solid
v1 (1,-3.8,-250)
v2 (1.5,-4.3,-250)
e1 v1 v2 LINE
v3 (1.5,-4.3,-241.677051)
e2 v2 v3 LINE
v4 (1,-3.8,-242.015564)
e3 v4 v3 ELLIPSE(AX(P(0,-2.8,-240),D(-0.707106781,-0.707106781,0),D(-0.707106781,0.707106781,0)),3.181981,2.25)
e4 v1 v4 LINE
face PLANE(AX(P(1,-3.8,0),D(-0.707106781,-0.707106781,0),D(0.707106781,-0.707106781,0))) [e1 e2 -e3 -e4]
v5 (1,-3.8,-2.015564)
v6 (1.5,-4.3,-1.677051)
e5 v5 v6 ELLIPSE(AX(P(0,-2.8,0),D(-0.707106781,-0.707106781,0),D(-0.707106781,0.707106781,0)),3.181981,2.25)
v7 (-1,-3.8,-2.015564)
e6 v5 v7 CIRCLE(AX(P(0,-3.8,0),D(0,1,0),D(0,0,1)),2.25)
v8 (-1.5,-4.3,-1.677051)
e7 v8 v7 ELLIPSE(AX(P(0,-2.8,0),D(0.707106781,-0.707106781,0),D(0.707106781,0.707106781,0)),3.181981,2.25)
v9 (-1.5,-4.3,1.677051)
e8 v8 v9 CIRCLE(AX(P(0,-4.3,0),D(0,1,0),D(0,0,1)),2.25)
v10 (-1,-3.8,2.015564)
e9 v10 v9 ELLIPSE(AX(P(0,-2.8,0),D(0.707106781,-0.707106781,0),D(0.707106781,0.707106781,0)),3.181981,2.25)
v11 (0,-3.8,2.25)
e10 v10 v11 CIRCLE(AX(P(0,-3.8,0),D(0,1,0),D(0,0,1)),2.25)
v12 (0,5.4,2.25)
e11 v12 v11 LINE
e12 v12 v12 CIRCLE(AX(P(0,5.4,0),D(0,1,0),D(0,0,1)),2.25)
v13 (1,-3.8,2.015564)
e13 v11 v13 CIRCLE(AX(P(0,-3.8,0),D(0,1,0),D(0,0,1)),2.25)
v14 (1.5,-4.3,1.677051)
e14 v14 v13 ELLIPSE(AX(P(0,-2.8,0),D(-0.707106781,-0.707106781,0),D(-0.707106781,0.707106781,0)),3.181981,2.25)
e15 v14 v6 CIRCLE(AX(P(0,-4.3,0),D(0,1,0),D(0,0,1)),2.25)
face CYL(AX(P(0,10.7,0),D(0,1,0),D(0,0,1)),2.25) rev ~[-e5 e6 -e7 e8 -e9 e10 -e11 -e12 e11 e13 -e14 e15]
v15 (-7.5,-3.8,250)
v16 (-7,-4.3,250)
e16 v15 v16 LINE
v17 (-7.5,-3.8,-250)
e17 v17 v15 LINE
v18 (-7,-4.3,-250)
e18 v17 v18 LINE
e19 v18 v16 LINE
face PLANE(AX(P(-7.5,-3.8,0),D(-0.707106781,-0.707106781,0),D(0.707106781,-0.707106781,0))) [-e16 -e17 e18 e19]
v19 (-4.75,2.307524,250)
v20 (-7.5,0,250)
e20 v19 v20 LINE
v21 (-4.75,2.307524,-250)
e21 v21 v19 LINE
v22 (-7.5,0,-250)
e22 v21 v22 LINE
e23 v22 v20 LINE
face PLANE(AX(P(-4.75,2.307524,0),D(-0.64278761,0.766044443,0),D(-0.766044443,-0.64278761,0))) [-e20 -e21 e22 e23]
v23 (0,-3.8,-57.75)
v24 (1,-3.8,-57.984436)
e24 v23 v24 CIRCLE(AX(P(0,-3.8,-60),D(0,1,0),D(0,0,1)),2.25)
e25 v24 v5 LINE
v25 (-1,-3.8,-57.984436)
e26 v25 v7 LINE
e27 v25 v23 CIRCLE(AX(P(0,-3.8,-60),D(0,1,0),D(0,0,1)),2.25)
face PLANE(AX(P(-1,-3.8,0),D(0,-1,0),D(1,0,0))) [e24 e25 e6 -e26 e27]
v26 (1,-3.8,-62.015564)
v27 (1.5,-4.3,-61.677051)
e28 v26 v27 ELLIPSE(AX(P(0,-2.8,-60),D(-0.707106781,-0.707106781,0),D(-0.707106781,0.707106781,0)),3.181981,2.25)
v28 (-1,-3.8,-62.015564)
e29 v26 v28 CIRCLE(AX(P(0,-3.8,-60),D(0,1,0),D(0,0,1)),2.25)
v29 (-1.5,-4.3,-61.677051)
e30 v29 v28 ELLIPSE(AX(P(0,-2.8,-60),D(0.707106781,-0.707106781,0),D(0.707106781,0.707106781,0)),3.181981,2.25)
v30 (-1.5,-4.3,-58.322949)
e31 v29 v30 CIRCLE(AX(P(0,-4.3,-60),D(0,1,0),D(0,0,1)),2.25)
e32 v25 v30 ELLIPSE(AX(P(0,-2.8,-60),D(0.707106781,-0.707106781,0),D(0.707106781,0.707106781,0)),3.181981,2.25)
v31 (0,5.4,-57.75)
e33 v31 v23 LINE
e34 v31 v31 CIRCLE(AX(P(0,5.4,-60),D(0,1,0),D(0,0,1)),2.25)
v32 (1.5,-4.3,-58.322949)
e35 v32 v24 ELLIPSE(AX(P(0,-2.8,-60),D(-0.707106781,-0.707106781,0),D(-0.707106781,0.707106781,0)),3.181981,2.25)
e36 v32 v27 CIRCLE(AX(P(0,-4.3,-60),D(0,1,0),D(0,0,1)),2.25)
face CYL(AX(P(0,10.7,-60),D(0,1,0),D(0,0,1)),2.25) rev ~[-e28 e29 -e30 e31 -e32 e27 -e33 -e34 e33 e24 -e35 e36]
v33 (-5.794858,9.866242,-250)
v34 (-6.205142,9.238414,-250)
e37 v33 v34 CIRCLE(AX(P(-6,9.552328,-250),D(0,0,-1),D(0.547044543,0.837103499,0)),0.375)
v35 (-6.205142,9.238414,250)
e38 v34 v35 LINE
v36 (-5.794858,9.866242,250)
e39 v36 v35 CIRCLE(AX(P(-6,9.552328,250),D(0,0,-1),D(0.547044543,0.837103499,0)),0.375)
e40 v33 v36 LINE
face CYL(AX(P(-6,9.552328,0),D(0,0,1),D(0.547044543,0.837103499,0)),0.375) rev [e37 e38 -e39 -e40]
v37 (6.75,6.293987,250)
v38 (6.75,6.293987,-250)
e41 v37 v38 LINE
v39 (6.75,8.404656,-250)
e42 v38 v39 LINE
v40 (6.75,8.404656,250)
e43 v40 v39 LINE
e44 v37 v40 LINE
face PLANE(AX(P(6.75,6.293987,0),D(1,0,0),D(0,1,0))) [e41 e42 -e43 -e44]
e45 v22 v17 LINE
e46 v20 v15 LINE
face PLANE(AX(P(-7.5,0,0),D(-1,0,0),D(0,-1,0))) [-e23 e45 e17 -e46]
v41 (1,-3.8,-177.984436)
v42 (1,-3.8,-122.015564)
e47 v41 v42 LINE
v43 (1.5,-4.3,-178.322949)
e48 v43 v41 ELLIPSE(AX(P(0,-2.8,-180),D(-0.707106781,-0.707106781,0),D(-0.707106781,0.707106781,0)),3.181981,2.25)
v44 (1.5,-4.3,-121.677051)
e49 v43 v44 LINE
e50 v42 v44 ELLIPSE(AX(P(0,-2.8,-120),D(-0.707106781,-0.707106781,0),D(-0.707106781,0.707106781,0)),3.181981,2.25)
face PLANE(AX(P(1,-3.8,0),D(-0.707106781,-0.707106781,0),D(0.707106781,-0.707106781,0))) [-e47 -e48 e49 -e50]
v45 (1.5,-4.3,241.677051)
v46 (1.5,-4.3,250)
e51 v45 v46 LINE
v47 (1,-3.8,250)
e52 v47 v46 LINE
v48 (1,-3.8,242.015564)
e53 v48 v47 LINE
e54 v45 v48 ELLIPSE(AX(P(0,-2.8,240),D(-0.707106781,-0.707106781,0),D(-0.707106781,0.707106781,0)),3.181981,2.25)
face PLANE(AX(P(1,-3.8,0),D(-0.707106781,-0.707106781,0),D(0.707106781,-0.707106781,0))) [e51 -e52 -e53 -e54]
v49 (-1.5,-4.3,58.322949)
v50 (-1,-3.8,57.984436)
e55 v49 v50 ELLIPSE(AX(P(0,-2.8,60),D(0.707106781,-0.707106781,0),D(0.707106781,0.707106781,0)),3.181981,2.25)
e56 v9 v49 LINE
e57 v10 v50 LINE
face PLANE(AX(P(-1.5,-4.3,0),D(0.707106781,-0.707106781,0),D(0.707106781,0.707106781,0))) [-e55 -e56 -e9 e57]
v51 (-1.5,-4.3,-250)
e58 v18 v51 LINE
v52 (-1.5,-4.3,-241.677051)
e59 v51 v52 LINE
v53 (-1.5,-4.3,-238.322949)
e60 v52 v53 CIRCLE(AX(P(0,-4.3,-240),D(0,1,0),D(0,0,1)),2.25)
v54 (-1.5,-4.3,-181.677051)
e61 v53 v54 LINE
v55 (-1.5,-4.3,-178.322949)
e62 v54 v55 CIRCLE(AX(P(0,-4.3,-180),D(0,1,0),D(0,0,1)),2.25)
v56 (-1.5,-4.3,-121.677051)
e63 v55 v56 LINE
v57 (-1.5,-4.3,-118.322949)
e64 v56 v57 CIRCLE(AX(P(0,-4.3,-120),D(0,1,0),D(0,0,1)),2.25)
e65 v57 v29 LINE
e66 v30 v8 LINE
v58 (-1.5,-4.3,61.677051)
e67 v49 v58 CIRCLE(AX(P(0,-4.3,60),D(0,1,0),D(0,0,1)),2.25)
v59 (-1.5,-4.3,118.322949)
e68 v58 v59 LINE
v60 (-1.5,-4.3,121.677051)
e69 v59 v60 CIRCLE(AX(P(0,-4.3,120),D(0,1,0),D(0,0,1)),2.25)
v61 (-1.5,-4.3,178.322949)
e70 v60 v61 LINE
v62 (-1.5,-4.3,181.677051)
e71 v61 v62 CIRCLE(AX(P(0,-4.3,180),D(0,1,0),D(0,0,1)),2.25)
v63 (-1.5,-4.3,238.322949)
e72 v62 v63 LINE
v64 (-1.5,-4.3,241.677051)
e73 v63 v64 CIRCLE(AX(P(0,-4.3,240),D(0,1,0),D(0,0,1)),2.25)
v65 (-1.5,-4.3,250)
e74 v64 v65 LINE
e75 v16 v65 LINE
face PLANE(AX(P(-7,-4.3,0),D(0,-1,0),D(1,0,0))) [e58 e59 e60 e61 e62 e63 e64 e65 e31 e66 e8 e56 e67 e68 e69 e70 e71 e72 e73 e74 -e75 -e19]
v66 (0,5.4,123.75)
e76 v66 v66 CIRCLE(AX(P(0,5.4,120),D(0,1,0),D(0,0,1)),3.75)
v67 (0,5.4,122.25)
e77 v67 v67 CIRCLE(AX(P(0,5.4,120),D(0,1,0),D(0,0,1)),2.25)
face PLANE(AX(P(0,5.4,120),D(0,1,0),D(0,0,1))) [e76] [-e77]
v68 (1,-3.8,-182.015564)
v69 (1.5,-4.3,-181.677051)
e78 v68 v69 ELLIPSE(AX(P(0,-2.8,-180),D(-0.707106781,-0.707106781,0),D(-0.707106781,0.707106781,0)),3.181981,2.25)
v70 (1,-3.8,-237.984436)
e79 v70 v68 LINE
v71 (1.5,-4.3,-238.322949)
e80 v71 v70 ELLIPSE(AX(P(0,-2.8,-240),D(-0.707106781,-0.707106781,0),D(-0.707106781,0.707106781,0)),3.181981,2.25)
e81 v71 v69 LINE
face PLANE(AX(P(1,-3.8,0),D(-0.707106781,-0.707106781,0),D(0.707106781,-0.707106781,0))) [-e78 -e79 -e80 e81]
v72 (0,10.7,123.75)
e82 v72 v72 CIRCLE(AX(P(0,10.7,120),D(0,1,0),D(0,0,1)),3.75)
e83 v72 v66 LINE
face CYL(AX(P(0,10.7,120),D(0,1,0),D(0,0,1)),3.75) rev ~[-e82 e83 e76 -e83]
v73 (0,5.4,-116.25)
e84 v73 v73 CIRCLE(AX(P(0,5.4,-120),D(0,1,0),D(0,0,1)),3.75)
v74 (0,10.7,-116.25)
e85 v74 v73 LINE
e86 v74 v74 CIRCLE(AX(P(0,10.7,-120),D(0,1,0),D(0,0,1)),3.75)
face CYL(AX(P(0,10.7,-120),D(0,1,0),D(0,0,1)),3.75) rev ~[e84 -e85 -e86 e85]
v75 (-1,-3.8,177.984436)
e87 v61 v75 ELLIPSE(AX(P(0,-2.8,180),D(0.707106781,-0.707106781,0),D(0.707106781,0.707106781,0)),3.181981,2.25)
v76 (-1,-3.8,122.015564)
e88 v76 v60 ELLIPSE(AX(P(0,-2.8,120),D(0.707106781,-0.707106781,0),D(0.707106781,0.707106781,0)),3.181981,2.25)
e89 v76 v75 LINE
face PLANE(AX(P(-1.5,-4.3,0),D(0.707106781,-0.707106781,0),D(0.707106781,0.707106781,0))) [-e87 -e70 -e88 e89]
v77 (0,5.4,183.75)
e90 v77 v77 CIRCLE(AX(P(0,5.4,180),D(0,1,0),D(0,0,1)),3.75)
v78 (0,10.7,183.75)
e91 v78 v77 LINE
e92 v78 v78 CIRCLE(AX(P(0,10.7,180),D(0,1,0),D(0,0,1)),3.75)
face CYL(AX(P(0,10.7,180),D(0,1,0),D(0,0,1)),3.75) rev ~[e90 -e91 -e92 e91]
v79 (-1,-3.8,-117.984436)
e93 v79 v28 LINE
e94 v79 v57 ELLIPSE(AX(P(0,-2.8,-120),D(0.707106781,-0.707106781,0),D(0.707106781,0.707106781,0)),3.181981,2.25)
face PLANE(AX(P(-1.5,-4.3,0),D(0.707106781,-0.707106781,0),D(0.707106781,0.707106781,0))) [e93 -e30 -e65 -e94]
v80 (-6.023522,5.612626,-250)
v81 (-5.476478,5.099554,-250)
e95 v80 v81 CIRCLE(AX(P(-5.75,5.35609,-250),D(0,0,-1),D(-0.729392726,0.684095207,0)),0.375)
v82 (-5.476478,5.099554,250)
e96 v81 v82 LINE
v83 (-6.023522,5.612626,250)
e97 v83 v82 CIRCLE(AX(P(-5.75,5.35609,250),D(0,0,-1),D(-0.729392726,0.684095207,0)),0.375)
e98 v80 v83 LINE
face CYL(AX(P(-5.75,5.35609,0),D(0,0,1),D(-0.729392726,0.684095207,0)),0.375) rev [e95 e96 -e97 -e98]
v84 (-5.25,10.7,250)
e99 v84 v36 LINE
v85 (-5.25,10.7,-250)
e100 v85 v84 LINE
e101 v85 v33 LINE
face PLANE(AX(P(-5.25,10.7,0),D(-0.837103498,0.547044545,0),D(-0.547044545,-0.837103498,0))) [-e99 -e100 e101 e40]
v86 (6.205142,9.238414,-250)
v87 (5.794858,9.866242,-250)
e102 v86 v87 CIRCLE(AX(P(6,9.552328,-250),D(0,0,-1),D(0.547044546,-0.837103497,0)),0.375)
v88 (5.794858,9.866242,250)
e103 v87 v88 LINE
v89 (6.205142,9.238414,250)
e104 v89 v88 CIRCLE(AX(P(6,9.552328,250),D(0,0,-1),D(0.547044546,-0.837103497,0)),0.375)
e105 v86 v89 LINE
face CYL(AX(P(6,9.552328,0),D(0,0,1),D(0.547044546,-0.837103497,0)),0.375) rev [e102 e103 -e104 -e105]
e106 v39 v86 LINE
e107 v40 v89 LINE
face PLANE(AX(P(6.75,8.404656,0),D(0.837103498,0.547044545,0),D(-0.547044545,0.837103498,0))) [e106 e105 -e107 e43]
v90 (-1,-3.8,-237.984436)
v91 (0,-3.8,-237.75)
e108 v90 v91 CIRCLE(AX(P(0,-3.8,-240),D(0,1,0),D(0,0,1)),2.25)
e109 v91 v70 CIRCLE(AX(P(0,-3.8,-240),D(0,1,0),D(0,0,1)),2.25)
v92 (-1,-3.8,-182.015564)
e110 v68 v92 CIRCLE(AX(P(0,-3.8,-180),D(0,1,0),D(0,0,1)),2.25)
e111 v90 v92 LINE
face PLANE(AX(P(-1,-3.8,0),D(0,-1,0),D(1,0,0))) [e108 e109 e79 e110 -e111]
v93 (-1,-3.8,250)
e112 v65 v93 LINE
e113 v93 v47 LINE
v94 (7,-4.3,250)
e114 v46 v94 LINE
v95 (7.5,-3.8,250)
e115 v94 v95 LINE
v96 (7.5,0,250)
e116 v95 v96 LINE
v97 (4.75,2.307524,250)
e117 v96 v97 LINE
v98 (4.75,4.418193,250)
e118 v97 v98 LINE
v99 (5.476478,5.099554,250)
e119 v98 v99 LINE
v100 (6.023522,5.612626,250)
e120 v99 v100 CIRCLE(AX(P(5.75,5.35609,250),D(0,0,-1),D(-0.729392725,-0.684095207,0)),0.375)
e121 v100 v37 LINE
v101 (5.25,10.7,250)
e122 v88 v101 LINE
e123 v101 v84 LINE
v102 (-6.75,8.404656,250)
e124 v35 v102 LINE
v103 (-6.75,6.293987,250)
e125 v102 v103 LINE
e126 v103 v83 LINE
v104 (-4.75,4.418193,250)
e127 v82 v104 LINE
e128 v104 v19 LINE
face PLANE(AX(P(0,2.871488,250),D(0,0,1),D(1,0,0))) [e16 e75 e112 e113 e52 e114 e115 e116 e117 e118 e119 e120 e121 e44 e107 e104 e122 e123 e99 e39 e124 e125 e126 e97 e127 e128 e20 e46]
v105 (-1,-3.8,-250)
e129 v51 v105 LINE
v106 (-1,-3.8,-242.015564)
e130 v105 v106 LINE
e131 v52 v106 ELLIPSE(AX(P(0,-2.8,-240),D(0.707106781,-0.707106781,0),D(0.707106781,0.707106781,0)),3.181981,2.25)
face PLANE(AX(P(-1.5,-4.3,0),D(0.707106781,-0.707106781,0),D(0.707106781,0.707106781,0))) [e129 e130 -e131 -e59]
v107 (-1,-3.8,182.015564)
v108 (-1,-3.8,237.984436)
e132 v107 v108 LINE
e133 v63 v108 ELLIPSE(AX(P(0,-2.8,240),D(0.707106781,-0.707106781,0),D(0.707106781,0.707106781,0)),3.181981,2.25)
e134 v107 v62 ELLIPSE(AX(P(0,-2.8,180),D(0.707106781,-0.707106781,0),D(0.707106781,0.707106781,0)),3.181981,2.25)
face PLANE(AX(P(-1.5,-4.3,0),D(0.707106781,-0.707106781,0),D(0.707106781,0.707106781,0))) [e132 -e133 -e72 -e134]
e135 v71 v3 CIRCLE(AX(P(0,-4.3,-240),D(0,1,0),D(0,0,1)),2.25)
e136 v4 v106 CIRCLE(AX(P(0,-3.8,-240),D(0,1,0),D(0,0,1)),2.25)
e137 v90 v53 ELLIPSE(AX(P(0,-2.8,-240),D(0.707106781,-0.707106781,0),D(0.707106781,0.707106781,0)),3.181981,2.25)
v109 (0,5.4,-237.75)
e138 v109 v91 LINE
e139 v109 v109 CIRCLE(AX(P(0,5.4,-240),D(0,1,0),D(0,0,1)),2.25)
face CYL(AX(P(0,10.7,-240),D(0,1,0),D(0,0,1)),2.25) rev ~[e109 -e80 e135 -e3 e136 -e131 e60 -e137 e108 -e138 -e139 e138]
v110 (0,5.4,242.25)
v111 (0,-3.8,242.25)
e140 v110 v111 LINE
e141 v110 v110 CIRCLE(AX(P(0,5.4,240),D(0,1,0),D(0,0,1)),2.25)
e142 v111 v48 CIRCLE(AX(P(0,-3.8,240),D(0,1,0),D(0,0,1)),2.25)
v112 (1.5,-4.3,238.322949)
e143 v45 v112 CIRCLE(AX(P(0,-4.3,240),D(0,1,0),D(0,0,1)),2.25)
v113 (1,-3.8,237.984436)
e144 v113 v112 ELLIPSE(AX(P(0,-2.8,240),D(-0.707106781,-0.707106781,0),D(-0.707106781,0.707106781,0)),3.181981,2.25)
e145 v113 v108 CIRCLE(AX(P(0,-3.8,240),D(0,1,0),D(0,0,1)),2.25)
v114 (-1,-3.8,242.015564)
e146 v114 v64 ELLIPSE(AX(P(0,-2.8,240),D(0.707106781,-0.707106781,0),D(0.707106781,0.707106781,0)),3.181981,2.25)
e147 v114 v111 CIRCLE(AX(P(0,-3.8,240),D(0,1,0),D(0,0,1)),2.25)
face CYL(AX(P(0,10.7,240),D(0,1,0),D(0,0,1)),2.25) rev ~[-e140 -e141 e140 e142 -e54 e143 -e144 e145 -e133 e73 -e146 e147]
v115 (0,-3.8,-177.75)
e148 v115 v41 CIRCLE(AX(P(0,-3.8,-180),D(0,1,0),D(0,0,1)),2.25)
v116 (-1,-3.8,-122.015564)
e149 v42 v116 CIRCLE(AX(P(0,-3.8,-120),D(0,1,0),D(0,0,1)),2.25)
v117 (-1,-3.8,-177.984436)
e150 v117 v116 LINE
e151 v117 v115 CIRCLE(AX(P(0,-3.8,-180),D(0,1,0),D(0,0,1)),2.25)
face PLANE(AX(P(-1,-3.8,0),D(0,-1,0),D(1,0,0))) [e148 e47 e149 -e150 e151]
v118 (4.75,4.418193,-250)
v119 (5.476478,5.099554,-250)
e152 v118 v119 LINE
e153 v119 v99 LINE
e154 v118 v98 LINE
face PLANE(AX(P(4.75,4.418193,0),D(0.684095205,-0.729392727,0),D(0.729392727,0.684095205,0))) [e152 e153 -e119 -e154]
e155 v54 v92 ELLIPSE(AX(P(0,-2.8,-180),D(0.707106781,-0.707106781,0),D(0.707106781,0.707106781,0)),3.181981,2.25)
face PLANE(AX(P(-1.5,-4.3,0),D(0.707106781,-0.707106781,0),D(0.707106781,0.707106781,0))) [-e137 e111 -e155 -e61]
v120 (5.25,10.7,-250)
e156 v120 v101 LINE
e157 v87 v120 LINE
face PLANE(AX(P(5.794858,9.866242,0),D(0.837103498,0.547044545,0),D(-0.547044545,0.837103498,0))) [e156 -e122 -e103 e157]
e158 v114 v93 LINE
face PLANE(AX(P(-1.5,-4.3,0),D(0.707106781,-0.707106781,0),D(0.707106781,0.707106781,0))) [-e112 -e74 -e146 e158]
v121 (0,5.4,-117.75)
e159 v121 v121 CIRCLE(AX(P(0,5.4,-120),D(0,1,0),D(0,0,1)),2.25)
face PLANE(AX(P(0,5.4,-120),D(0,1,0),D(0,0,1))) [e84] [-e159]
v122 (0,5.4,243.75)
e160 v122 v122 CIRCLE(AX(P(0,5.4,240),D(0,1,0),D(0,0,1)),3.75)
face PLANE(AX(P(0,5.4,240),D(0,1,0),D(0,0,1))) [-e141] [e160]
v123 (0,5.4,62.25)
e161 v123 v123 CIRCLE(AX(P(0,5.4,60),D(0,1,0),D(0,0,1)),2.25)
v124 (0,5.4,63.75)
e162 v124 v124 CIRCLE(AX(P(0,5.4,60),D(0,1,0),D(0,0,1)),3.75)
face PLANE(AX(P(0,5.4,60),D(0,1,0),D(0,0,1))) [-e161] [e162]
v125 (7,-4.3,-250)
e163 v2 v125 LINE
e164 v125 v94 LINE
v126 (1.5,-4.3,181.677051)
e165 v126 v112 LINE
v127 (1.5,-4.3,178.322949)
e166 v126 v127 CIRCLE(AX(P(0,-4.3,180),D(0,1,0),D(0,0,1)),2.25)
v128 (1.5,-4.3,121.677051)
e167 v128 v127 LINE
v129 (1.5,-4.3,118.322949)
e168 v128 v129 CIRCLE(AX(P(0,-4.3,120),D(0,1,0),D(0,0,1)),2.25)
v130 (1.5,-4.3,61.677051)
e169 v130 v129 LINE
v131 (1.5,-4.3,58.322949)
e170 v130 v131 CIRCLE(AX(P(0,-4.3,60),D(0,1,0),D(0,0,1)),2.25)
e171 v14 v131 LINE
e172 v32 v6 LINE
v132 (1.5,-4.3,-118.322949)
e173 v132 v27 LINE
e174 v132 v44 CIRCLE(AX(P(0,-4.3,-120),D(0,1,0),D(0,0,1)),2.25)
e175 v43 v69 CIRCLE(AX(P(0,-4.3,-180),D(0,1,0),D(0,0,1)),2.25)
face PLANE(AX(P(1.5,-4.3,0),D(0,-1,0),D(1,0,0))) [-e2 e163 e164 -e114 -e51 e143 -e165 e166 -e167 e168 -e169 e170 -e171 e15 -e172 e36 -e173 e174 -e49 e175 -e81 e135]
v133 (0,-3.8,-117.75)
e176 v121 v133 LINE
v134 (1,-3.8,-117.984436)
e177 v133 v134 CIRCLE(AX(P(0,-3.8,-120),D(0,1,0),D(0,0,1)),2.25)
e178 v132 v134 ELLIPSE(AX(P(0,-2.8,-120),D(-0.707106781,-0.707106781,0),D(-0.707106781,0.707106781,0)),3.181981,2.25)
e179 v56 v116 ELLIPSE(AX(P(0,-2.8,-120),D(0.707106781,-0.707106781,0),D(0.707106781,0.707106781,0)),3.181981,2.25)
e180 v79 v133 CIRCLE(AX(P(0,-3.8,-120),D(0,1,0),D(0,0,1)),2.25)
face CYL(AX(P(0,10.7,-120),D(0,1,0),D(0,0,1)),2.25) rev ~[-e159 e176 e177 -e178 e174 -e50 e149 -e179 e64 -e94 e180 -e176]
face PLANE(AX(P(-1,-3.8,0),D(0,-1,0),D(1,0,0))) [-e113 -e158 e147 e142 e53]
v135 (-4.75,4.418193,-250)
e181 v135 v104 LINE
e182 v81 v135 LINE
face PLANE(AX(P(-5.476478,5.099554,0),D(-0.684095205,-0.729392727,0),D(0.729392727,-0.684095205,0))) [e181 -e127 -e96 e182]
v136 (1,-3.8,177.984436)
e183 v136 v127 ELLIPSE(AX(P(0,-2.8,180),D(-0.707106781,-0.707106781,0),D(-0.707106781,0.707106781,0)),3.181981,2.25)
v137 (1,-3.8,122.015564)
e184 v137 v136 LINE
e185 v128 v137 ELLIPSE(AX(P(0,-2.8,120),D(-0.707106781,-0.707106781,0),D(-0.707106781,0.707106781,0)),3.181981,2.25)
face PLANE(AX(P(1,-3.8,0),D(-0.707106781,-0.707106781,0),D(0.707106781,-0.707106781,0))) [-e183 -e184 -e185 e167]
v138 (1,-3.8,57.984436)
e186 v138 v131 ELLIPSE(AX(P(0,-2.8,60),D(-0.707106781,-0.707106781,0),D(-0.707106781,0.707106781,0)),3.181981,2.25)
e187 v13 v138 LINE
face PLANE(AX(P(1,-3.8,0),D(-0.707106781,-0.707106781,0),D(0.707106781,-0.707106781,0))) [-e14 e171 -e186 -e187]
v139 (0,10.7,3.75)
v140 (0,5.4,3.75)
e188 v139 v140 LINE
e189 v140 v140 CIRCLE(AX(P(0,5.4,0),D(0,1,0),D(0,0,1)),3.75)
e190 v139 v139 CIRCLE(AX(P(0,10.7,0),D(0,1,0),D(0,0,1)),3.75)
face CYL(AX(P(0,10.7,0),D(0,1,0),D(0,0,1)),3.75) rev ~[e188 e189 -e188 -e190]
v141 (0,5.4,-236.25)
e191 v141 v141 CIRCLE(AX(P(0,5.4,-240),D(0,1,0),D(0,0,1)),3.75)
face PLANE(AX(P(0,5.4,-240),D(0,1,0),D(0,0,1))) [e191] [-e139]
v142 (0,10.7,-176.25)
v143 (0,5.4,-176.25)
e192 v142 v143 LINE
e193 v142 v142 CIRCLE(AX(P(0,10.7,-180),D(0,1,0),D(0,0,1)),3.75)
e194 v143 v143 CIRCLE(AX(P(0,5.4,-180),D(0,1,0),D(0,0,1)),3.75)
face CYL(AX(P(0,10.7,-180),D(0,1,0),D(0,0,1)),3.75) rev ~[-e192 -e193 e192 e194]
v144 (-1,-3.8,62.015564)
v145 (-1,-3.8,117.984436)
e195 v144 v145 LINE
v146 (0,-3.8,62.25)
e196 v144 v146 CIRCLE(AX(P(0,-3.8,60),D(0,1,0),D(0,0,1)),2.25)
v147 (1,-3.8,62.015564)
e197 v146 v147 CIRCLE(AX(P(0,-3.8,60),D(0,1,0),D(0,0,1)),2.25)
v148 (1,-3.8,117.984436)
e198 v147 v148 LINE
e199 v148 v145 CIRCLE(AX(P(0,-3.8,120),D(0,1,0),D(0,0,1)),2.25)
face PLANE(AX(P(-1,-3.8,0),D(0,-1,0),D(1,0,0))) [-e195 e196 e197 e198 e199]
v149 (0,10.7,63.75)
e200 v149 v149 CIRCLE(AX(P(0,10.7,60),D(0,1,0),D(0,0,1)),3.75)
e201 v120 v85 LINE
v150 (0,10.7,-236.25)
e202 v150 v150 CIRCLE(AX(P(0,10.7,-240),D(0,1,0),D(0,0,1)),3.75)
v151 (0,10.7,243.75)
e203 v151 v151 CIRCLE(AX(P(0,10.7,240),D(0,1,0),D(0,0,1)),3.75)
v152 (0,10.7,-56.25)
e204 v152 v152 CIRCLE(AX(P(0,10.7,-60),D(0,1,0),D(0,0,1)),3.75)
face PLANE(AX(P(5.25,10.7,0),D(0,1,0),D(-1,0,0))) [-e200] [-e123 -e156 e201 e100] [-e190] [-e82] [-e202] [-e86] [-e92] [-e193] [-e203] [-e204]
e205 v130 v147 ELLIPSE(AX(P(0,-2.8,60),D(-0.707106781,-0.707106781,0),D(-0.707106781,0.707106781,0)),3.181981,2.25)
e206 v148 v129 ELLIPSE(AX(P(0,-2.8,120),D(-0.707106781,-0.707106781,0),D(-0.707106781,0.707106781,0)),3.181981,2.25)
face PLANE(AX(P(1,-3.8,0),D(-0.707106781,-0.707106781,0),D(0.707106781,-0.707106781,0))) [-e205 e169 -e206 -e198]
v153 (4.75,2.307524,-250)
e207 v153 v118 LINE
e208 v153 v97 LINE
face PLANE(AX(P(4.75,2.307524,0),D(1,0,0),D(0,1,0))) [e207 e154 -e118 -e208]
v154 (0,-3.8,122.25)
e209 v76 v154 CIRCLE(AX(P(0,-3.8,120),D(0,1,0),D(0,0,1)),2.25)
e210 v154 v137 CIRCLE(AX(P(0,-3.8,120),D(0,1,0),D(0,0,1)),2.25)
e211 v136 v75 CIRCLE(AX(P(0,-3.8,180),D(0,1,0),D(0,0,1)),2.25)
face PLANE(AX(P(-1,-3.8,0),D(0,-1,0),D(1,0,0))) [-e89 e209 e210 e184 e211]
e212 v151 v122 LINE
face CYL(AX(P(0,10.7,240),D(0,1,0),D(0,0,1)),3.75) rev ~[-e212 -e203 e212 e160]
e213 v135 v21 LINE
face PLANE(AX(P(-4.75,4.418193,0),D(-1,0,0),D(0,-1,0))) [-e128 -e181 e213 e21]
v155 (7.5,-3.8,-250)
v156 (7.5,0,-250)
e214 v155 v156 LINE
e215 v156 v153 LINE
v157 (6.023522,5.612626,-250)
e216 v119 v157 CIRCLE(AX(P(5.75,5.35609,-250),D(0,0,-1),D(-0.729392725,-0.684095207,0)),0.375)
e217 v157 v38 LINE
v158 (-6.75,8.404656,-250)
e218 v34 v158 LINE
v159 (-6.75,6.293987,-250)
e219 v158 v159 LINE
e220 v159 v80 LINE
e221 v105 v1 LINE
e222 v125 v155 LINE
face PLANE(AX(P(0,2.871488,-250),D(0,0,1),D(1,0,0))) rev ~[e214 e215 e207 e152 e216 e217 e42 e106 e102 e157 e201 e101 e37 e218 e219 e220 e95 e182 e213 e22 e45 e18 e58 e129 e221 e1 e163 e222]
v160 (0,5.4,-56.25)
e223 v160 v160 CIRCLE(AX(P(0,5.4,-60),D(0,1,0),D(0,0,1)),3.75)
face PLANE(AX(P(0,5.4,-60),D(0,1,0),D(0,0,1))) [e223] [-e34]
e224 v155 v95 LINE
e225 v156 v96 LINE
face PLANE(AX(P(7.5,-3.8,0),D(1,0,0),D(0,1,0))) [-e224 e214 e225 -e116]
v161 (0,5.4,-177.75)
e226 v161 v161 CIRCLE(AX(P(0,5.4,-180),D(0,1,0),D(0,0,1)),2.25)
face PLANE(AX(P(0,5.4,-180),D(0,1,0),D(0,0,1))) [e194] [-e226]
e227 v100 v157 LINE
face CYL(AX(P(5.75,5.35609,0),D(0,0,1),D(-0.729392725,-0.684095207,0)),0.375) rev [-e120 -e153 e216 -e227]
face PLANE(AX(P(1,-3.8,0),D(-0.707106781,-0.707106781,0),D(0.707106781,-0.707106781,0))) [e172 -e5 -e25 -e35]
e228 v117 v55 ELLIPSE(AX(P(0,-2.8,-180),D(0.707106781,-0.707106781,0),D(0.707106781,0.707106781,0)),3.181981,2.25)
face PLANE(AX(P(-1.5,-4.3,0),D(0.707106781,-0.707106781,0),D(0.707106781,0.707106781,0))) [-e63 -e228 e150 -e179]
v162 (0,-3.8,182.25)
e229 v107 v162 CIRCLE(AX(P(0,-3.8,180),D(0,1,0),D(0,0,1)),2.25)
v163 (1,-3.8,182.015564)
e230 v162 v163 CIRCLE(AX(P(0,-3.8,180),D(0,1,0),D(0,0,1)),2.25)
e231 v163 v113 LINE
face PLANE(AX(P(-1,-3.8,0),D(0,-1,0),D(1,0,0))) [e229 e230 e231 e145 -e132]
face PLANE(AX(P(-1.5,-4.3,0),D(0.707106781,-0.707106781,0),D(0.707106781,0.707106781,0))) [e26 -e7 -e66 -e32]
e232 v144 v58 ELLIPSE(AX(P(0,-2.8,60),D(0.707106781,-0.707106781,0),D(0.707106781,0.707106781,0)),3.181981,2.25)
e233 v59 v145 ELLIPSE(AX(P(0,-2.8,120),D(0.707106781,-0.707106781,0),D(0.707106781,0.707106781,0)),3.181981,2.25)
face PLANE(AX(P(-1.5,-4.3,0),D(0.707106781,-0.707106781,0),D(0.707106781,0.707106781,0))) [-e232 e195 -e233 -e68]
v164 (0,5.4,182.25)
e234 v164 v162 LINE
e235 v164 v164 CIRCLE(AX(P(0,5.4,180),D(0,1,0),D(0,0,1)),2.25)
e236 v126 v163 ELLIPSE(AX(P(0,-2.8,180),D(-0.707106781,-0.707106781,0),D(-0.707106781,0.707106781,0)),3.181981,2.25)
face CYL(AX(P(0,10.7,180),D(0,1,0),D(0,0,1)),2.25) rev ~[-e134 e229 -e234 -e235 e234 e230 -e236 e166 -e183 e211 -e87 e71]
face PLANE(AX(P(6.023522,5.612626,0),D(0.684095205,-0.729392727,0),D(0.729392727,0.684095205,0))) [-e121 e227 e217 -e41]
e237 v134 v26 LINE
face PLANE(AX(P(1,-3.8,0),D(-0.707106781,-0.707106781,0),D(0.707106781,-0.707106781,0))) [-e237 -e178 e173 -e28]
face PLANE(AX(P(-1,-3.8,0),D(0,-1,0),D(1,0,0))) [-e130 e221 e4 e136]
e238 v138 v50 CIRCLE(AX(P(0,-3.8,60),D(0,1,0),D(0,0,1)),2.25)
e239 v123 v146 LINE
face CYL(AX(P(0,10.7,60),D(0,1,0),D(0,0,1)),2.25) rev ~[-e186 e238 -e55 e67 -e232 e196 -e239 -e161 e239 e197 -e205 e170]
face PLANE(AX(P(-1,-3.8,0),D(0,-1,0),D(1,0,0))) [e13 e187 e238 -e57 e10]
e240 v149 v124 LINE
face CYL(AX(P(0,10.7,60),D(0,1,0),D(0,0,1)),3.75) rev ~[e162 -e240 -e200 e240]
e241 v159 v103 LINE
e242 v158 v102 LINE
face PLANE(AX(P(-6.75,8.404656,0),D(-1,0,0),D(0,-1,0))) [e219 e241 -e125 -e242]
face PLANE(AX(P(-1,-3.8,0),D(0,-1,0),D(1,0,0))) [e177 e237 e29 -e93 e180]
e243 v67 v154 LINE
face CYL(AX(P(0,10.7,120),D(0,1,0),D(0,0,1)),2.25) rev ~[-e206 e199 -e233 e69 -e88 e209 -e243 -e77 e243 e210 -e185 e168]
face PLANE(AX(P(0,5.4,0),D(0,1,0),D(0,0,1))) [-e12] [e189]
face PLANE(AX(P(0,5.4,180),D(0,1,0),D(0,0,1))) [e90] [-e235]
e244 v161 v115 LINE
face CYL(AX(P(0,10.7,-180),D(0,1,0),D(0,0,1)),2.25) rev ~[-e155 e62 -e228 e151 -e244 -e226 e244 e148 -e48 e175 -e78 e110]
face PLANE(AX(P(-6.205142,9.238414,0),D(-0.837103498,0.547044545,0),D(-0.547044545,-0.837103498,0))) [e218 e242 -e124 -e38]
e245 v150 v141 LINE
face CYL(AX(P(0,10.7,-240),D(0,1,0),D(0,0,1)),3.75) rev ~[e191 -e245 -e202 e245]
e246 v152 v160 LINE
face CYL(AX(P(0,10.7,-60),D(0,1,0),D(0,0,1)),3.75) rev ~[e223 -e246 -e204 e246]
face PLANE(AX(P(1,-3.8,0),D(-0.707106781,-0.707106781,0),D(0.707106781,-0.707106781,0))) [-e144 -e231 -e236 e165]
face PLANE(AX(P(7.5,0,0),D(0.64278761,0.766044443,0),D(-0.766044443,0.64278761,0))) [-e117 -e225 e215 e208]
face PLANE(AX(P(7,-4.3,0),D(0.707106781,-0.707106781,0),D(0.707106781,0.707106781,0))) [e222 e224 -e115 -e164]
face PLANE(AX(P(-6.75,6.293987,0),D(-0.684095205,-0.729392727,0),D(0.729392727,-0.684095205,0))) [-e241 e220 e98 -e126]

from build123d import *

# Parameters (mm, degrees)
EXTRUDE_2_DEPTH        = 250
SKETCH_4_R             = 2.25
CUT_EXTRUDE_2_DEPTH    = 251.561868607
SKETCH_5_R             = 3.75
CUT_EXTRUDE_3_DEPTH    = 5.3
PATTERN_LINEAR_1_COUNT = 9
PATTERN_LINEAR_1_PITCH = 60


with BuildPart() as part:
    # 草图1 → 凸台-拉伸2 (new, symmetric)
    with BuildSketch(Plane.XY):
        with BuildLine():
            Line((6.75, 8.404656305), (6.205141704, 9.238414341))
            ThreePointArc((6.205141704, 9.238414341), (5.686086188, 9.347186448), (5.794858296, 9.866241964))
            Line((5.794858296, 9.866241964), (5.25, 10.7))
            Line((5.25, 10.7), (-5.25, 10.7))
            Line((-5.25, 10.7), (-5.794858296, 9.866241964))
            ThreePointArc((-5.794858296, 9.866241964), (-5.686086188, 9.347186448), (-6.205141704, 9.238414341))
            Line((-6.205141704, 9.238414341), (-6.75, 8.404656305))
            Line((-6.75, 8.404656305), (-6.75, 6.293987085))
            Line((-6.75, 6.293987085), (-6.023522272, 5.612625848))
            ThreePointArc((-6.023522272, 5.612625848), (-5.493464298, 5.629612418), (-5.476477728, 5.099554443))
            Line((-5.476477728, 5.099554443), (-4.75, 4.418193206))
            Line((-4.75, 4.418193206), (-4.75, 2.307523986))
            Line((-4.75, 2.307523986), (-7.5, 0))
            Line((-7.5, 0), (-7.5, -3.8))
            Line((-7.5, -3.8), (-7, -4.3))
            Line((-7, -4.3), (-1.5, -4.3))
            Line((-1.5, -4.3), (-1, -3.8))
            Line((-1, -3.8), (1, -3.8))
            Line((1, -3.8), (1.5, -4.3))
            Line((1.5, -4.3), (7, -4.3))
            Line((7, -4.3), (7.5, -3.8))
            Line((7.5, -3.8), (7.5, 0))
            Line((7.5, 0), (4.75, 2.307523986))
            Line((4.75, 2.307523986), (4.75, 4.418193206))
            Line((4.75, 4.418193206), (5.476477728, 5.099554443))
            ThreePointArc((5.476477728, 5.099554443), (5.493464298, 5.629612418), (6.023522272, 5.612625848))
            Line((6.023522272, 5.612625848), (6.75, 6.293987085))
            Line((6.75, 6.293987085), (6.75, 8.404656305))
        make_face()
    extrude(amount=EXTRUDE_2_DEPTH, both=True)

    # 草图4 → 切除-拉伸2 (cut, through all)
    with BuildSketch(Plane(origin=(0, 10.7, 0), x_dir=(1, 0, 0), z_dir=(0, 1, 0))):
        with Locations(Location((0, -240, 0), (0, 0, 270))):
            Circle(SKETCH_4_R)
    cut_extrude_2 = extrude(amount=-CUT_EXTRUDE_2_DEPTH, mode=Mode.SUBTRACT)

    # 草图5 → 切除-拉伸3 (cut)
    with BuildSketch(Plane(origin=(0, 10.7, 0), x_dir=(1, 0, 0), z_dir=(0, 1, 0))):
        with Locations(Location((0, -240, 0), (0, 0, 270))):
            Circle(SKETCH_5_R)
    cut_extrude_3 = extrude(amount=-CUT_EXTRUDE_3_DEPTH, mode=Mode.SUBTRACT)

    # 阵列(线性)1: 切除-拉伸2, 切除-拉伸3 ×9
    with Locations(*[(0, 0, -i * PATTERN_LINEAR_1_PITCH) for i in range(1, PATTERN_LINEAR_1_COUNT)]):
        add(cut_extrude_2, mode=Mode.SUBTRACT)
        add(cut_extrude_3, mode=Mode.SUBTRACT)


solid = part.part
